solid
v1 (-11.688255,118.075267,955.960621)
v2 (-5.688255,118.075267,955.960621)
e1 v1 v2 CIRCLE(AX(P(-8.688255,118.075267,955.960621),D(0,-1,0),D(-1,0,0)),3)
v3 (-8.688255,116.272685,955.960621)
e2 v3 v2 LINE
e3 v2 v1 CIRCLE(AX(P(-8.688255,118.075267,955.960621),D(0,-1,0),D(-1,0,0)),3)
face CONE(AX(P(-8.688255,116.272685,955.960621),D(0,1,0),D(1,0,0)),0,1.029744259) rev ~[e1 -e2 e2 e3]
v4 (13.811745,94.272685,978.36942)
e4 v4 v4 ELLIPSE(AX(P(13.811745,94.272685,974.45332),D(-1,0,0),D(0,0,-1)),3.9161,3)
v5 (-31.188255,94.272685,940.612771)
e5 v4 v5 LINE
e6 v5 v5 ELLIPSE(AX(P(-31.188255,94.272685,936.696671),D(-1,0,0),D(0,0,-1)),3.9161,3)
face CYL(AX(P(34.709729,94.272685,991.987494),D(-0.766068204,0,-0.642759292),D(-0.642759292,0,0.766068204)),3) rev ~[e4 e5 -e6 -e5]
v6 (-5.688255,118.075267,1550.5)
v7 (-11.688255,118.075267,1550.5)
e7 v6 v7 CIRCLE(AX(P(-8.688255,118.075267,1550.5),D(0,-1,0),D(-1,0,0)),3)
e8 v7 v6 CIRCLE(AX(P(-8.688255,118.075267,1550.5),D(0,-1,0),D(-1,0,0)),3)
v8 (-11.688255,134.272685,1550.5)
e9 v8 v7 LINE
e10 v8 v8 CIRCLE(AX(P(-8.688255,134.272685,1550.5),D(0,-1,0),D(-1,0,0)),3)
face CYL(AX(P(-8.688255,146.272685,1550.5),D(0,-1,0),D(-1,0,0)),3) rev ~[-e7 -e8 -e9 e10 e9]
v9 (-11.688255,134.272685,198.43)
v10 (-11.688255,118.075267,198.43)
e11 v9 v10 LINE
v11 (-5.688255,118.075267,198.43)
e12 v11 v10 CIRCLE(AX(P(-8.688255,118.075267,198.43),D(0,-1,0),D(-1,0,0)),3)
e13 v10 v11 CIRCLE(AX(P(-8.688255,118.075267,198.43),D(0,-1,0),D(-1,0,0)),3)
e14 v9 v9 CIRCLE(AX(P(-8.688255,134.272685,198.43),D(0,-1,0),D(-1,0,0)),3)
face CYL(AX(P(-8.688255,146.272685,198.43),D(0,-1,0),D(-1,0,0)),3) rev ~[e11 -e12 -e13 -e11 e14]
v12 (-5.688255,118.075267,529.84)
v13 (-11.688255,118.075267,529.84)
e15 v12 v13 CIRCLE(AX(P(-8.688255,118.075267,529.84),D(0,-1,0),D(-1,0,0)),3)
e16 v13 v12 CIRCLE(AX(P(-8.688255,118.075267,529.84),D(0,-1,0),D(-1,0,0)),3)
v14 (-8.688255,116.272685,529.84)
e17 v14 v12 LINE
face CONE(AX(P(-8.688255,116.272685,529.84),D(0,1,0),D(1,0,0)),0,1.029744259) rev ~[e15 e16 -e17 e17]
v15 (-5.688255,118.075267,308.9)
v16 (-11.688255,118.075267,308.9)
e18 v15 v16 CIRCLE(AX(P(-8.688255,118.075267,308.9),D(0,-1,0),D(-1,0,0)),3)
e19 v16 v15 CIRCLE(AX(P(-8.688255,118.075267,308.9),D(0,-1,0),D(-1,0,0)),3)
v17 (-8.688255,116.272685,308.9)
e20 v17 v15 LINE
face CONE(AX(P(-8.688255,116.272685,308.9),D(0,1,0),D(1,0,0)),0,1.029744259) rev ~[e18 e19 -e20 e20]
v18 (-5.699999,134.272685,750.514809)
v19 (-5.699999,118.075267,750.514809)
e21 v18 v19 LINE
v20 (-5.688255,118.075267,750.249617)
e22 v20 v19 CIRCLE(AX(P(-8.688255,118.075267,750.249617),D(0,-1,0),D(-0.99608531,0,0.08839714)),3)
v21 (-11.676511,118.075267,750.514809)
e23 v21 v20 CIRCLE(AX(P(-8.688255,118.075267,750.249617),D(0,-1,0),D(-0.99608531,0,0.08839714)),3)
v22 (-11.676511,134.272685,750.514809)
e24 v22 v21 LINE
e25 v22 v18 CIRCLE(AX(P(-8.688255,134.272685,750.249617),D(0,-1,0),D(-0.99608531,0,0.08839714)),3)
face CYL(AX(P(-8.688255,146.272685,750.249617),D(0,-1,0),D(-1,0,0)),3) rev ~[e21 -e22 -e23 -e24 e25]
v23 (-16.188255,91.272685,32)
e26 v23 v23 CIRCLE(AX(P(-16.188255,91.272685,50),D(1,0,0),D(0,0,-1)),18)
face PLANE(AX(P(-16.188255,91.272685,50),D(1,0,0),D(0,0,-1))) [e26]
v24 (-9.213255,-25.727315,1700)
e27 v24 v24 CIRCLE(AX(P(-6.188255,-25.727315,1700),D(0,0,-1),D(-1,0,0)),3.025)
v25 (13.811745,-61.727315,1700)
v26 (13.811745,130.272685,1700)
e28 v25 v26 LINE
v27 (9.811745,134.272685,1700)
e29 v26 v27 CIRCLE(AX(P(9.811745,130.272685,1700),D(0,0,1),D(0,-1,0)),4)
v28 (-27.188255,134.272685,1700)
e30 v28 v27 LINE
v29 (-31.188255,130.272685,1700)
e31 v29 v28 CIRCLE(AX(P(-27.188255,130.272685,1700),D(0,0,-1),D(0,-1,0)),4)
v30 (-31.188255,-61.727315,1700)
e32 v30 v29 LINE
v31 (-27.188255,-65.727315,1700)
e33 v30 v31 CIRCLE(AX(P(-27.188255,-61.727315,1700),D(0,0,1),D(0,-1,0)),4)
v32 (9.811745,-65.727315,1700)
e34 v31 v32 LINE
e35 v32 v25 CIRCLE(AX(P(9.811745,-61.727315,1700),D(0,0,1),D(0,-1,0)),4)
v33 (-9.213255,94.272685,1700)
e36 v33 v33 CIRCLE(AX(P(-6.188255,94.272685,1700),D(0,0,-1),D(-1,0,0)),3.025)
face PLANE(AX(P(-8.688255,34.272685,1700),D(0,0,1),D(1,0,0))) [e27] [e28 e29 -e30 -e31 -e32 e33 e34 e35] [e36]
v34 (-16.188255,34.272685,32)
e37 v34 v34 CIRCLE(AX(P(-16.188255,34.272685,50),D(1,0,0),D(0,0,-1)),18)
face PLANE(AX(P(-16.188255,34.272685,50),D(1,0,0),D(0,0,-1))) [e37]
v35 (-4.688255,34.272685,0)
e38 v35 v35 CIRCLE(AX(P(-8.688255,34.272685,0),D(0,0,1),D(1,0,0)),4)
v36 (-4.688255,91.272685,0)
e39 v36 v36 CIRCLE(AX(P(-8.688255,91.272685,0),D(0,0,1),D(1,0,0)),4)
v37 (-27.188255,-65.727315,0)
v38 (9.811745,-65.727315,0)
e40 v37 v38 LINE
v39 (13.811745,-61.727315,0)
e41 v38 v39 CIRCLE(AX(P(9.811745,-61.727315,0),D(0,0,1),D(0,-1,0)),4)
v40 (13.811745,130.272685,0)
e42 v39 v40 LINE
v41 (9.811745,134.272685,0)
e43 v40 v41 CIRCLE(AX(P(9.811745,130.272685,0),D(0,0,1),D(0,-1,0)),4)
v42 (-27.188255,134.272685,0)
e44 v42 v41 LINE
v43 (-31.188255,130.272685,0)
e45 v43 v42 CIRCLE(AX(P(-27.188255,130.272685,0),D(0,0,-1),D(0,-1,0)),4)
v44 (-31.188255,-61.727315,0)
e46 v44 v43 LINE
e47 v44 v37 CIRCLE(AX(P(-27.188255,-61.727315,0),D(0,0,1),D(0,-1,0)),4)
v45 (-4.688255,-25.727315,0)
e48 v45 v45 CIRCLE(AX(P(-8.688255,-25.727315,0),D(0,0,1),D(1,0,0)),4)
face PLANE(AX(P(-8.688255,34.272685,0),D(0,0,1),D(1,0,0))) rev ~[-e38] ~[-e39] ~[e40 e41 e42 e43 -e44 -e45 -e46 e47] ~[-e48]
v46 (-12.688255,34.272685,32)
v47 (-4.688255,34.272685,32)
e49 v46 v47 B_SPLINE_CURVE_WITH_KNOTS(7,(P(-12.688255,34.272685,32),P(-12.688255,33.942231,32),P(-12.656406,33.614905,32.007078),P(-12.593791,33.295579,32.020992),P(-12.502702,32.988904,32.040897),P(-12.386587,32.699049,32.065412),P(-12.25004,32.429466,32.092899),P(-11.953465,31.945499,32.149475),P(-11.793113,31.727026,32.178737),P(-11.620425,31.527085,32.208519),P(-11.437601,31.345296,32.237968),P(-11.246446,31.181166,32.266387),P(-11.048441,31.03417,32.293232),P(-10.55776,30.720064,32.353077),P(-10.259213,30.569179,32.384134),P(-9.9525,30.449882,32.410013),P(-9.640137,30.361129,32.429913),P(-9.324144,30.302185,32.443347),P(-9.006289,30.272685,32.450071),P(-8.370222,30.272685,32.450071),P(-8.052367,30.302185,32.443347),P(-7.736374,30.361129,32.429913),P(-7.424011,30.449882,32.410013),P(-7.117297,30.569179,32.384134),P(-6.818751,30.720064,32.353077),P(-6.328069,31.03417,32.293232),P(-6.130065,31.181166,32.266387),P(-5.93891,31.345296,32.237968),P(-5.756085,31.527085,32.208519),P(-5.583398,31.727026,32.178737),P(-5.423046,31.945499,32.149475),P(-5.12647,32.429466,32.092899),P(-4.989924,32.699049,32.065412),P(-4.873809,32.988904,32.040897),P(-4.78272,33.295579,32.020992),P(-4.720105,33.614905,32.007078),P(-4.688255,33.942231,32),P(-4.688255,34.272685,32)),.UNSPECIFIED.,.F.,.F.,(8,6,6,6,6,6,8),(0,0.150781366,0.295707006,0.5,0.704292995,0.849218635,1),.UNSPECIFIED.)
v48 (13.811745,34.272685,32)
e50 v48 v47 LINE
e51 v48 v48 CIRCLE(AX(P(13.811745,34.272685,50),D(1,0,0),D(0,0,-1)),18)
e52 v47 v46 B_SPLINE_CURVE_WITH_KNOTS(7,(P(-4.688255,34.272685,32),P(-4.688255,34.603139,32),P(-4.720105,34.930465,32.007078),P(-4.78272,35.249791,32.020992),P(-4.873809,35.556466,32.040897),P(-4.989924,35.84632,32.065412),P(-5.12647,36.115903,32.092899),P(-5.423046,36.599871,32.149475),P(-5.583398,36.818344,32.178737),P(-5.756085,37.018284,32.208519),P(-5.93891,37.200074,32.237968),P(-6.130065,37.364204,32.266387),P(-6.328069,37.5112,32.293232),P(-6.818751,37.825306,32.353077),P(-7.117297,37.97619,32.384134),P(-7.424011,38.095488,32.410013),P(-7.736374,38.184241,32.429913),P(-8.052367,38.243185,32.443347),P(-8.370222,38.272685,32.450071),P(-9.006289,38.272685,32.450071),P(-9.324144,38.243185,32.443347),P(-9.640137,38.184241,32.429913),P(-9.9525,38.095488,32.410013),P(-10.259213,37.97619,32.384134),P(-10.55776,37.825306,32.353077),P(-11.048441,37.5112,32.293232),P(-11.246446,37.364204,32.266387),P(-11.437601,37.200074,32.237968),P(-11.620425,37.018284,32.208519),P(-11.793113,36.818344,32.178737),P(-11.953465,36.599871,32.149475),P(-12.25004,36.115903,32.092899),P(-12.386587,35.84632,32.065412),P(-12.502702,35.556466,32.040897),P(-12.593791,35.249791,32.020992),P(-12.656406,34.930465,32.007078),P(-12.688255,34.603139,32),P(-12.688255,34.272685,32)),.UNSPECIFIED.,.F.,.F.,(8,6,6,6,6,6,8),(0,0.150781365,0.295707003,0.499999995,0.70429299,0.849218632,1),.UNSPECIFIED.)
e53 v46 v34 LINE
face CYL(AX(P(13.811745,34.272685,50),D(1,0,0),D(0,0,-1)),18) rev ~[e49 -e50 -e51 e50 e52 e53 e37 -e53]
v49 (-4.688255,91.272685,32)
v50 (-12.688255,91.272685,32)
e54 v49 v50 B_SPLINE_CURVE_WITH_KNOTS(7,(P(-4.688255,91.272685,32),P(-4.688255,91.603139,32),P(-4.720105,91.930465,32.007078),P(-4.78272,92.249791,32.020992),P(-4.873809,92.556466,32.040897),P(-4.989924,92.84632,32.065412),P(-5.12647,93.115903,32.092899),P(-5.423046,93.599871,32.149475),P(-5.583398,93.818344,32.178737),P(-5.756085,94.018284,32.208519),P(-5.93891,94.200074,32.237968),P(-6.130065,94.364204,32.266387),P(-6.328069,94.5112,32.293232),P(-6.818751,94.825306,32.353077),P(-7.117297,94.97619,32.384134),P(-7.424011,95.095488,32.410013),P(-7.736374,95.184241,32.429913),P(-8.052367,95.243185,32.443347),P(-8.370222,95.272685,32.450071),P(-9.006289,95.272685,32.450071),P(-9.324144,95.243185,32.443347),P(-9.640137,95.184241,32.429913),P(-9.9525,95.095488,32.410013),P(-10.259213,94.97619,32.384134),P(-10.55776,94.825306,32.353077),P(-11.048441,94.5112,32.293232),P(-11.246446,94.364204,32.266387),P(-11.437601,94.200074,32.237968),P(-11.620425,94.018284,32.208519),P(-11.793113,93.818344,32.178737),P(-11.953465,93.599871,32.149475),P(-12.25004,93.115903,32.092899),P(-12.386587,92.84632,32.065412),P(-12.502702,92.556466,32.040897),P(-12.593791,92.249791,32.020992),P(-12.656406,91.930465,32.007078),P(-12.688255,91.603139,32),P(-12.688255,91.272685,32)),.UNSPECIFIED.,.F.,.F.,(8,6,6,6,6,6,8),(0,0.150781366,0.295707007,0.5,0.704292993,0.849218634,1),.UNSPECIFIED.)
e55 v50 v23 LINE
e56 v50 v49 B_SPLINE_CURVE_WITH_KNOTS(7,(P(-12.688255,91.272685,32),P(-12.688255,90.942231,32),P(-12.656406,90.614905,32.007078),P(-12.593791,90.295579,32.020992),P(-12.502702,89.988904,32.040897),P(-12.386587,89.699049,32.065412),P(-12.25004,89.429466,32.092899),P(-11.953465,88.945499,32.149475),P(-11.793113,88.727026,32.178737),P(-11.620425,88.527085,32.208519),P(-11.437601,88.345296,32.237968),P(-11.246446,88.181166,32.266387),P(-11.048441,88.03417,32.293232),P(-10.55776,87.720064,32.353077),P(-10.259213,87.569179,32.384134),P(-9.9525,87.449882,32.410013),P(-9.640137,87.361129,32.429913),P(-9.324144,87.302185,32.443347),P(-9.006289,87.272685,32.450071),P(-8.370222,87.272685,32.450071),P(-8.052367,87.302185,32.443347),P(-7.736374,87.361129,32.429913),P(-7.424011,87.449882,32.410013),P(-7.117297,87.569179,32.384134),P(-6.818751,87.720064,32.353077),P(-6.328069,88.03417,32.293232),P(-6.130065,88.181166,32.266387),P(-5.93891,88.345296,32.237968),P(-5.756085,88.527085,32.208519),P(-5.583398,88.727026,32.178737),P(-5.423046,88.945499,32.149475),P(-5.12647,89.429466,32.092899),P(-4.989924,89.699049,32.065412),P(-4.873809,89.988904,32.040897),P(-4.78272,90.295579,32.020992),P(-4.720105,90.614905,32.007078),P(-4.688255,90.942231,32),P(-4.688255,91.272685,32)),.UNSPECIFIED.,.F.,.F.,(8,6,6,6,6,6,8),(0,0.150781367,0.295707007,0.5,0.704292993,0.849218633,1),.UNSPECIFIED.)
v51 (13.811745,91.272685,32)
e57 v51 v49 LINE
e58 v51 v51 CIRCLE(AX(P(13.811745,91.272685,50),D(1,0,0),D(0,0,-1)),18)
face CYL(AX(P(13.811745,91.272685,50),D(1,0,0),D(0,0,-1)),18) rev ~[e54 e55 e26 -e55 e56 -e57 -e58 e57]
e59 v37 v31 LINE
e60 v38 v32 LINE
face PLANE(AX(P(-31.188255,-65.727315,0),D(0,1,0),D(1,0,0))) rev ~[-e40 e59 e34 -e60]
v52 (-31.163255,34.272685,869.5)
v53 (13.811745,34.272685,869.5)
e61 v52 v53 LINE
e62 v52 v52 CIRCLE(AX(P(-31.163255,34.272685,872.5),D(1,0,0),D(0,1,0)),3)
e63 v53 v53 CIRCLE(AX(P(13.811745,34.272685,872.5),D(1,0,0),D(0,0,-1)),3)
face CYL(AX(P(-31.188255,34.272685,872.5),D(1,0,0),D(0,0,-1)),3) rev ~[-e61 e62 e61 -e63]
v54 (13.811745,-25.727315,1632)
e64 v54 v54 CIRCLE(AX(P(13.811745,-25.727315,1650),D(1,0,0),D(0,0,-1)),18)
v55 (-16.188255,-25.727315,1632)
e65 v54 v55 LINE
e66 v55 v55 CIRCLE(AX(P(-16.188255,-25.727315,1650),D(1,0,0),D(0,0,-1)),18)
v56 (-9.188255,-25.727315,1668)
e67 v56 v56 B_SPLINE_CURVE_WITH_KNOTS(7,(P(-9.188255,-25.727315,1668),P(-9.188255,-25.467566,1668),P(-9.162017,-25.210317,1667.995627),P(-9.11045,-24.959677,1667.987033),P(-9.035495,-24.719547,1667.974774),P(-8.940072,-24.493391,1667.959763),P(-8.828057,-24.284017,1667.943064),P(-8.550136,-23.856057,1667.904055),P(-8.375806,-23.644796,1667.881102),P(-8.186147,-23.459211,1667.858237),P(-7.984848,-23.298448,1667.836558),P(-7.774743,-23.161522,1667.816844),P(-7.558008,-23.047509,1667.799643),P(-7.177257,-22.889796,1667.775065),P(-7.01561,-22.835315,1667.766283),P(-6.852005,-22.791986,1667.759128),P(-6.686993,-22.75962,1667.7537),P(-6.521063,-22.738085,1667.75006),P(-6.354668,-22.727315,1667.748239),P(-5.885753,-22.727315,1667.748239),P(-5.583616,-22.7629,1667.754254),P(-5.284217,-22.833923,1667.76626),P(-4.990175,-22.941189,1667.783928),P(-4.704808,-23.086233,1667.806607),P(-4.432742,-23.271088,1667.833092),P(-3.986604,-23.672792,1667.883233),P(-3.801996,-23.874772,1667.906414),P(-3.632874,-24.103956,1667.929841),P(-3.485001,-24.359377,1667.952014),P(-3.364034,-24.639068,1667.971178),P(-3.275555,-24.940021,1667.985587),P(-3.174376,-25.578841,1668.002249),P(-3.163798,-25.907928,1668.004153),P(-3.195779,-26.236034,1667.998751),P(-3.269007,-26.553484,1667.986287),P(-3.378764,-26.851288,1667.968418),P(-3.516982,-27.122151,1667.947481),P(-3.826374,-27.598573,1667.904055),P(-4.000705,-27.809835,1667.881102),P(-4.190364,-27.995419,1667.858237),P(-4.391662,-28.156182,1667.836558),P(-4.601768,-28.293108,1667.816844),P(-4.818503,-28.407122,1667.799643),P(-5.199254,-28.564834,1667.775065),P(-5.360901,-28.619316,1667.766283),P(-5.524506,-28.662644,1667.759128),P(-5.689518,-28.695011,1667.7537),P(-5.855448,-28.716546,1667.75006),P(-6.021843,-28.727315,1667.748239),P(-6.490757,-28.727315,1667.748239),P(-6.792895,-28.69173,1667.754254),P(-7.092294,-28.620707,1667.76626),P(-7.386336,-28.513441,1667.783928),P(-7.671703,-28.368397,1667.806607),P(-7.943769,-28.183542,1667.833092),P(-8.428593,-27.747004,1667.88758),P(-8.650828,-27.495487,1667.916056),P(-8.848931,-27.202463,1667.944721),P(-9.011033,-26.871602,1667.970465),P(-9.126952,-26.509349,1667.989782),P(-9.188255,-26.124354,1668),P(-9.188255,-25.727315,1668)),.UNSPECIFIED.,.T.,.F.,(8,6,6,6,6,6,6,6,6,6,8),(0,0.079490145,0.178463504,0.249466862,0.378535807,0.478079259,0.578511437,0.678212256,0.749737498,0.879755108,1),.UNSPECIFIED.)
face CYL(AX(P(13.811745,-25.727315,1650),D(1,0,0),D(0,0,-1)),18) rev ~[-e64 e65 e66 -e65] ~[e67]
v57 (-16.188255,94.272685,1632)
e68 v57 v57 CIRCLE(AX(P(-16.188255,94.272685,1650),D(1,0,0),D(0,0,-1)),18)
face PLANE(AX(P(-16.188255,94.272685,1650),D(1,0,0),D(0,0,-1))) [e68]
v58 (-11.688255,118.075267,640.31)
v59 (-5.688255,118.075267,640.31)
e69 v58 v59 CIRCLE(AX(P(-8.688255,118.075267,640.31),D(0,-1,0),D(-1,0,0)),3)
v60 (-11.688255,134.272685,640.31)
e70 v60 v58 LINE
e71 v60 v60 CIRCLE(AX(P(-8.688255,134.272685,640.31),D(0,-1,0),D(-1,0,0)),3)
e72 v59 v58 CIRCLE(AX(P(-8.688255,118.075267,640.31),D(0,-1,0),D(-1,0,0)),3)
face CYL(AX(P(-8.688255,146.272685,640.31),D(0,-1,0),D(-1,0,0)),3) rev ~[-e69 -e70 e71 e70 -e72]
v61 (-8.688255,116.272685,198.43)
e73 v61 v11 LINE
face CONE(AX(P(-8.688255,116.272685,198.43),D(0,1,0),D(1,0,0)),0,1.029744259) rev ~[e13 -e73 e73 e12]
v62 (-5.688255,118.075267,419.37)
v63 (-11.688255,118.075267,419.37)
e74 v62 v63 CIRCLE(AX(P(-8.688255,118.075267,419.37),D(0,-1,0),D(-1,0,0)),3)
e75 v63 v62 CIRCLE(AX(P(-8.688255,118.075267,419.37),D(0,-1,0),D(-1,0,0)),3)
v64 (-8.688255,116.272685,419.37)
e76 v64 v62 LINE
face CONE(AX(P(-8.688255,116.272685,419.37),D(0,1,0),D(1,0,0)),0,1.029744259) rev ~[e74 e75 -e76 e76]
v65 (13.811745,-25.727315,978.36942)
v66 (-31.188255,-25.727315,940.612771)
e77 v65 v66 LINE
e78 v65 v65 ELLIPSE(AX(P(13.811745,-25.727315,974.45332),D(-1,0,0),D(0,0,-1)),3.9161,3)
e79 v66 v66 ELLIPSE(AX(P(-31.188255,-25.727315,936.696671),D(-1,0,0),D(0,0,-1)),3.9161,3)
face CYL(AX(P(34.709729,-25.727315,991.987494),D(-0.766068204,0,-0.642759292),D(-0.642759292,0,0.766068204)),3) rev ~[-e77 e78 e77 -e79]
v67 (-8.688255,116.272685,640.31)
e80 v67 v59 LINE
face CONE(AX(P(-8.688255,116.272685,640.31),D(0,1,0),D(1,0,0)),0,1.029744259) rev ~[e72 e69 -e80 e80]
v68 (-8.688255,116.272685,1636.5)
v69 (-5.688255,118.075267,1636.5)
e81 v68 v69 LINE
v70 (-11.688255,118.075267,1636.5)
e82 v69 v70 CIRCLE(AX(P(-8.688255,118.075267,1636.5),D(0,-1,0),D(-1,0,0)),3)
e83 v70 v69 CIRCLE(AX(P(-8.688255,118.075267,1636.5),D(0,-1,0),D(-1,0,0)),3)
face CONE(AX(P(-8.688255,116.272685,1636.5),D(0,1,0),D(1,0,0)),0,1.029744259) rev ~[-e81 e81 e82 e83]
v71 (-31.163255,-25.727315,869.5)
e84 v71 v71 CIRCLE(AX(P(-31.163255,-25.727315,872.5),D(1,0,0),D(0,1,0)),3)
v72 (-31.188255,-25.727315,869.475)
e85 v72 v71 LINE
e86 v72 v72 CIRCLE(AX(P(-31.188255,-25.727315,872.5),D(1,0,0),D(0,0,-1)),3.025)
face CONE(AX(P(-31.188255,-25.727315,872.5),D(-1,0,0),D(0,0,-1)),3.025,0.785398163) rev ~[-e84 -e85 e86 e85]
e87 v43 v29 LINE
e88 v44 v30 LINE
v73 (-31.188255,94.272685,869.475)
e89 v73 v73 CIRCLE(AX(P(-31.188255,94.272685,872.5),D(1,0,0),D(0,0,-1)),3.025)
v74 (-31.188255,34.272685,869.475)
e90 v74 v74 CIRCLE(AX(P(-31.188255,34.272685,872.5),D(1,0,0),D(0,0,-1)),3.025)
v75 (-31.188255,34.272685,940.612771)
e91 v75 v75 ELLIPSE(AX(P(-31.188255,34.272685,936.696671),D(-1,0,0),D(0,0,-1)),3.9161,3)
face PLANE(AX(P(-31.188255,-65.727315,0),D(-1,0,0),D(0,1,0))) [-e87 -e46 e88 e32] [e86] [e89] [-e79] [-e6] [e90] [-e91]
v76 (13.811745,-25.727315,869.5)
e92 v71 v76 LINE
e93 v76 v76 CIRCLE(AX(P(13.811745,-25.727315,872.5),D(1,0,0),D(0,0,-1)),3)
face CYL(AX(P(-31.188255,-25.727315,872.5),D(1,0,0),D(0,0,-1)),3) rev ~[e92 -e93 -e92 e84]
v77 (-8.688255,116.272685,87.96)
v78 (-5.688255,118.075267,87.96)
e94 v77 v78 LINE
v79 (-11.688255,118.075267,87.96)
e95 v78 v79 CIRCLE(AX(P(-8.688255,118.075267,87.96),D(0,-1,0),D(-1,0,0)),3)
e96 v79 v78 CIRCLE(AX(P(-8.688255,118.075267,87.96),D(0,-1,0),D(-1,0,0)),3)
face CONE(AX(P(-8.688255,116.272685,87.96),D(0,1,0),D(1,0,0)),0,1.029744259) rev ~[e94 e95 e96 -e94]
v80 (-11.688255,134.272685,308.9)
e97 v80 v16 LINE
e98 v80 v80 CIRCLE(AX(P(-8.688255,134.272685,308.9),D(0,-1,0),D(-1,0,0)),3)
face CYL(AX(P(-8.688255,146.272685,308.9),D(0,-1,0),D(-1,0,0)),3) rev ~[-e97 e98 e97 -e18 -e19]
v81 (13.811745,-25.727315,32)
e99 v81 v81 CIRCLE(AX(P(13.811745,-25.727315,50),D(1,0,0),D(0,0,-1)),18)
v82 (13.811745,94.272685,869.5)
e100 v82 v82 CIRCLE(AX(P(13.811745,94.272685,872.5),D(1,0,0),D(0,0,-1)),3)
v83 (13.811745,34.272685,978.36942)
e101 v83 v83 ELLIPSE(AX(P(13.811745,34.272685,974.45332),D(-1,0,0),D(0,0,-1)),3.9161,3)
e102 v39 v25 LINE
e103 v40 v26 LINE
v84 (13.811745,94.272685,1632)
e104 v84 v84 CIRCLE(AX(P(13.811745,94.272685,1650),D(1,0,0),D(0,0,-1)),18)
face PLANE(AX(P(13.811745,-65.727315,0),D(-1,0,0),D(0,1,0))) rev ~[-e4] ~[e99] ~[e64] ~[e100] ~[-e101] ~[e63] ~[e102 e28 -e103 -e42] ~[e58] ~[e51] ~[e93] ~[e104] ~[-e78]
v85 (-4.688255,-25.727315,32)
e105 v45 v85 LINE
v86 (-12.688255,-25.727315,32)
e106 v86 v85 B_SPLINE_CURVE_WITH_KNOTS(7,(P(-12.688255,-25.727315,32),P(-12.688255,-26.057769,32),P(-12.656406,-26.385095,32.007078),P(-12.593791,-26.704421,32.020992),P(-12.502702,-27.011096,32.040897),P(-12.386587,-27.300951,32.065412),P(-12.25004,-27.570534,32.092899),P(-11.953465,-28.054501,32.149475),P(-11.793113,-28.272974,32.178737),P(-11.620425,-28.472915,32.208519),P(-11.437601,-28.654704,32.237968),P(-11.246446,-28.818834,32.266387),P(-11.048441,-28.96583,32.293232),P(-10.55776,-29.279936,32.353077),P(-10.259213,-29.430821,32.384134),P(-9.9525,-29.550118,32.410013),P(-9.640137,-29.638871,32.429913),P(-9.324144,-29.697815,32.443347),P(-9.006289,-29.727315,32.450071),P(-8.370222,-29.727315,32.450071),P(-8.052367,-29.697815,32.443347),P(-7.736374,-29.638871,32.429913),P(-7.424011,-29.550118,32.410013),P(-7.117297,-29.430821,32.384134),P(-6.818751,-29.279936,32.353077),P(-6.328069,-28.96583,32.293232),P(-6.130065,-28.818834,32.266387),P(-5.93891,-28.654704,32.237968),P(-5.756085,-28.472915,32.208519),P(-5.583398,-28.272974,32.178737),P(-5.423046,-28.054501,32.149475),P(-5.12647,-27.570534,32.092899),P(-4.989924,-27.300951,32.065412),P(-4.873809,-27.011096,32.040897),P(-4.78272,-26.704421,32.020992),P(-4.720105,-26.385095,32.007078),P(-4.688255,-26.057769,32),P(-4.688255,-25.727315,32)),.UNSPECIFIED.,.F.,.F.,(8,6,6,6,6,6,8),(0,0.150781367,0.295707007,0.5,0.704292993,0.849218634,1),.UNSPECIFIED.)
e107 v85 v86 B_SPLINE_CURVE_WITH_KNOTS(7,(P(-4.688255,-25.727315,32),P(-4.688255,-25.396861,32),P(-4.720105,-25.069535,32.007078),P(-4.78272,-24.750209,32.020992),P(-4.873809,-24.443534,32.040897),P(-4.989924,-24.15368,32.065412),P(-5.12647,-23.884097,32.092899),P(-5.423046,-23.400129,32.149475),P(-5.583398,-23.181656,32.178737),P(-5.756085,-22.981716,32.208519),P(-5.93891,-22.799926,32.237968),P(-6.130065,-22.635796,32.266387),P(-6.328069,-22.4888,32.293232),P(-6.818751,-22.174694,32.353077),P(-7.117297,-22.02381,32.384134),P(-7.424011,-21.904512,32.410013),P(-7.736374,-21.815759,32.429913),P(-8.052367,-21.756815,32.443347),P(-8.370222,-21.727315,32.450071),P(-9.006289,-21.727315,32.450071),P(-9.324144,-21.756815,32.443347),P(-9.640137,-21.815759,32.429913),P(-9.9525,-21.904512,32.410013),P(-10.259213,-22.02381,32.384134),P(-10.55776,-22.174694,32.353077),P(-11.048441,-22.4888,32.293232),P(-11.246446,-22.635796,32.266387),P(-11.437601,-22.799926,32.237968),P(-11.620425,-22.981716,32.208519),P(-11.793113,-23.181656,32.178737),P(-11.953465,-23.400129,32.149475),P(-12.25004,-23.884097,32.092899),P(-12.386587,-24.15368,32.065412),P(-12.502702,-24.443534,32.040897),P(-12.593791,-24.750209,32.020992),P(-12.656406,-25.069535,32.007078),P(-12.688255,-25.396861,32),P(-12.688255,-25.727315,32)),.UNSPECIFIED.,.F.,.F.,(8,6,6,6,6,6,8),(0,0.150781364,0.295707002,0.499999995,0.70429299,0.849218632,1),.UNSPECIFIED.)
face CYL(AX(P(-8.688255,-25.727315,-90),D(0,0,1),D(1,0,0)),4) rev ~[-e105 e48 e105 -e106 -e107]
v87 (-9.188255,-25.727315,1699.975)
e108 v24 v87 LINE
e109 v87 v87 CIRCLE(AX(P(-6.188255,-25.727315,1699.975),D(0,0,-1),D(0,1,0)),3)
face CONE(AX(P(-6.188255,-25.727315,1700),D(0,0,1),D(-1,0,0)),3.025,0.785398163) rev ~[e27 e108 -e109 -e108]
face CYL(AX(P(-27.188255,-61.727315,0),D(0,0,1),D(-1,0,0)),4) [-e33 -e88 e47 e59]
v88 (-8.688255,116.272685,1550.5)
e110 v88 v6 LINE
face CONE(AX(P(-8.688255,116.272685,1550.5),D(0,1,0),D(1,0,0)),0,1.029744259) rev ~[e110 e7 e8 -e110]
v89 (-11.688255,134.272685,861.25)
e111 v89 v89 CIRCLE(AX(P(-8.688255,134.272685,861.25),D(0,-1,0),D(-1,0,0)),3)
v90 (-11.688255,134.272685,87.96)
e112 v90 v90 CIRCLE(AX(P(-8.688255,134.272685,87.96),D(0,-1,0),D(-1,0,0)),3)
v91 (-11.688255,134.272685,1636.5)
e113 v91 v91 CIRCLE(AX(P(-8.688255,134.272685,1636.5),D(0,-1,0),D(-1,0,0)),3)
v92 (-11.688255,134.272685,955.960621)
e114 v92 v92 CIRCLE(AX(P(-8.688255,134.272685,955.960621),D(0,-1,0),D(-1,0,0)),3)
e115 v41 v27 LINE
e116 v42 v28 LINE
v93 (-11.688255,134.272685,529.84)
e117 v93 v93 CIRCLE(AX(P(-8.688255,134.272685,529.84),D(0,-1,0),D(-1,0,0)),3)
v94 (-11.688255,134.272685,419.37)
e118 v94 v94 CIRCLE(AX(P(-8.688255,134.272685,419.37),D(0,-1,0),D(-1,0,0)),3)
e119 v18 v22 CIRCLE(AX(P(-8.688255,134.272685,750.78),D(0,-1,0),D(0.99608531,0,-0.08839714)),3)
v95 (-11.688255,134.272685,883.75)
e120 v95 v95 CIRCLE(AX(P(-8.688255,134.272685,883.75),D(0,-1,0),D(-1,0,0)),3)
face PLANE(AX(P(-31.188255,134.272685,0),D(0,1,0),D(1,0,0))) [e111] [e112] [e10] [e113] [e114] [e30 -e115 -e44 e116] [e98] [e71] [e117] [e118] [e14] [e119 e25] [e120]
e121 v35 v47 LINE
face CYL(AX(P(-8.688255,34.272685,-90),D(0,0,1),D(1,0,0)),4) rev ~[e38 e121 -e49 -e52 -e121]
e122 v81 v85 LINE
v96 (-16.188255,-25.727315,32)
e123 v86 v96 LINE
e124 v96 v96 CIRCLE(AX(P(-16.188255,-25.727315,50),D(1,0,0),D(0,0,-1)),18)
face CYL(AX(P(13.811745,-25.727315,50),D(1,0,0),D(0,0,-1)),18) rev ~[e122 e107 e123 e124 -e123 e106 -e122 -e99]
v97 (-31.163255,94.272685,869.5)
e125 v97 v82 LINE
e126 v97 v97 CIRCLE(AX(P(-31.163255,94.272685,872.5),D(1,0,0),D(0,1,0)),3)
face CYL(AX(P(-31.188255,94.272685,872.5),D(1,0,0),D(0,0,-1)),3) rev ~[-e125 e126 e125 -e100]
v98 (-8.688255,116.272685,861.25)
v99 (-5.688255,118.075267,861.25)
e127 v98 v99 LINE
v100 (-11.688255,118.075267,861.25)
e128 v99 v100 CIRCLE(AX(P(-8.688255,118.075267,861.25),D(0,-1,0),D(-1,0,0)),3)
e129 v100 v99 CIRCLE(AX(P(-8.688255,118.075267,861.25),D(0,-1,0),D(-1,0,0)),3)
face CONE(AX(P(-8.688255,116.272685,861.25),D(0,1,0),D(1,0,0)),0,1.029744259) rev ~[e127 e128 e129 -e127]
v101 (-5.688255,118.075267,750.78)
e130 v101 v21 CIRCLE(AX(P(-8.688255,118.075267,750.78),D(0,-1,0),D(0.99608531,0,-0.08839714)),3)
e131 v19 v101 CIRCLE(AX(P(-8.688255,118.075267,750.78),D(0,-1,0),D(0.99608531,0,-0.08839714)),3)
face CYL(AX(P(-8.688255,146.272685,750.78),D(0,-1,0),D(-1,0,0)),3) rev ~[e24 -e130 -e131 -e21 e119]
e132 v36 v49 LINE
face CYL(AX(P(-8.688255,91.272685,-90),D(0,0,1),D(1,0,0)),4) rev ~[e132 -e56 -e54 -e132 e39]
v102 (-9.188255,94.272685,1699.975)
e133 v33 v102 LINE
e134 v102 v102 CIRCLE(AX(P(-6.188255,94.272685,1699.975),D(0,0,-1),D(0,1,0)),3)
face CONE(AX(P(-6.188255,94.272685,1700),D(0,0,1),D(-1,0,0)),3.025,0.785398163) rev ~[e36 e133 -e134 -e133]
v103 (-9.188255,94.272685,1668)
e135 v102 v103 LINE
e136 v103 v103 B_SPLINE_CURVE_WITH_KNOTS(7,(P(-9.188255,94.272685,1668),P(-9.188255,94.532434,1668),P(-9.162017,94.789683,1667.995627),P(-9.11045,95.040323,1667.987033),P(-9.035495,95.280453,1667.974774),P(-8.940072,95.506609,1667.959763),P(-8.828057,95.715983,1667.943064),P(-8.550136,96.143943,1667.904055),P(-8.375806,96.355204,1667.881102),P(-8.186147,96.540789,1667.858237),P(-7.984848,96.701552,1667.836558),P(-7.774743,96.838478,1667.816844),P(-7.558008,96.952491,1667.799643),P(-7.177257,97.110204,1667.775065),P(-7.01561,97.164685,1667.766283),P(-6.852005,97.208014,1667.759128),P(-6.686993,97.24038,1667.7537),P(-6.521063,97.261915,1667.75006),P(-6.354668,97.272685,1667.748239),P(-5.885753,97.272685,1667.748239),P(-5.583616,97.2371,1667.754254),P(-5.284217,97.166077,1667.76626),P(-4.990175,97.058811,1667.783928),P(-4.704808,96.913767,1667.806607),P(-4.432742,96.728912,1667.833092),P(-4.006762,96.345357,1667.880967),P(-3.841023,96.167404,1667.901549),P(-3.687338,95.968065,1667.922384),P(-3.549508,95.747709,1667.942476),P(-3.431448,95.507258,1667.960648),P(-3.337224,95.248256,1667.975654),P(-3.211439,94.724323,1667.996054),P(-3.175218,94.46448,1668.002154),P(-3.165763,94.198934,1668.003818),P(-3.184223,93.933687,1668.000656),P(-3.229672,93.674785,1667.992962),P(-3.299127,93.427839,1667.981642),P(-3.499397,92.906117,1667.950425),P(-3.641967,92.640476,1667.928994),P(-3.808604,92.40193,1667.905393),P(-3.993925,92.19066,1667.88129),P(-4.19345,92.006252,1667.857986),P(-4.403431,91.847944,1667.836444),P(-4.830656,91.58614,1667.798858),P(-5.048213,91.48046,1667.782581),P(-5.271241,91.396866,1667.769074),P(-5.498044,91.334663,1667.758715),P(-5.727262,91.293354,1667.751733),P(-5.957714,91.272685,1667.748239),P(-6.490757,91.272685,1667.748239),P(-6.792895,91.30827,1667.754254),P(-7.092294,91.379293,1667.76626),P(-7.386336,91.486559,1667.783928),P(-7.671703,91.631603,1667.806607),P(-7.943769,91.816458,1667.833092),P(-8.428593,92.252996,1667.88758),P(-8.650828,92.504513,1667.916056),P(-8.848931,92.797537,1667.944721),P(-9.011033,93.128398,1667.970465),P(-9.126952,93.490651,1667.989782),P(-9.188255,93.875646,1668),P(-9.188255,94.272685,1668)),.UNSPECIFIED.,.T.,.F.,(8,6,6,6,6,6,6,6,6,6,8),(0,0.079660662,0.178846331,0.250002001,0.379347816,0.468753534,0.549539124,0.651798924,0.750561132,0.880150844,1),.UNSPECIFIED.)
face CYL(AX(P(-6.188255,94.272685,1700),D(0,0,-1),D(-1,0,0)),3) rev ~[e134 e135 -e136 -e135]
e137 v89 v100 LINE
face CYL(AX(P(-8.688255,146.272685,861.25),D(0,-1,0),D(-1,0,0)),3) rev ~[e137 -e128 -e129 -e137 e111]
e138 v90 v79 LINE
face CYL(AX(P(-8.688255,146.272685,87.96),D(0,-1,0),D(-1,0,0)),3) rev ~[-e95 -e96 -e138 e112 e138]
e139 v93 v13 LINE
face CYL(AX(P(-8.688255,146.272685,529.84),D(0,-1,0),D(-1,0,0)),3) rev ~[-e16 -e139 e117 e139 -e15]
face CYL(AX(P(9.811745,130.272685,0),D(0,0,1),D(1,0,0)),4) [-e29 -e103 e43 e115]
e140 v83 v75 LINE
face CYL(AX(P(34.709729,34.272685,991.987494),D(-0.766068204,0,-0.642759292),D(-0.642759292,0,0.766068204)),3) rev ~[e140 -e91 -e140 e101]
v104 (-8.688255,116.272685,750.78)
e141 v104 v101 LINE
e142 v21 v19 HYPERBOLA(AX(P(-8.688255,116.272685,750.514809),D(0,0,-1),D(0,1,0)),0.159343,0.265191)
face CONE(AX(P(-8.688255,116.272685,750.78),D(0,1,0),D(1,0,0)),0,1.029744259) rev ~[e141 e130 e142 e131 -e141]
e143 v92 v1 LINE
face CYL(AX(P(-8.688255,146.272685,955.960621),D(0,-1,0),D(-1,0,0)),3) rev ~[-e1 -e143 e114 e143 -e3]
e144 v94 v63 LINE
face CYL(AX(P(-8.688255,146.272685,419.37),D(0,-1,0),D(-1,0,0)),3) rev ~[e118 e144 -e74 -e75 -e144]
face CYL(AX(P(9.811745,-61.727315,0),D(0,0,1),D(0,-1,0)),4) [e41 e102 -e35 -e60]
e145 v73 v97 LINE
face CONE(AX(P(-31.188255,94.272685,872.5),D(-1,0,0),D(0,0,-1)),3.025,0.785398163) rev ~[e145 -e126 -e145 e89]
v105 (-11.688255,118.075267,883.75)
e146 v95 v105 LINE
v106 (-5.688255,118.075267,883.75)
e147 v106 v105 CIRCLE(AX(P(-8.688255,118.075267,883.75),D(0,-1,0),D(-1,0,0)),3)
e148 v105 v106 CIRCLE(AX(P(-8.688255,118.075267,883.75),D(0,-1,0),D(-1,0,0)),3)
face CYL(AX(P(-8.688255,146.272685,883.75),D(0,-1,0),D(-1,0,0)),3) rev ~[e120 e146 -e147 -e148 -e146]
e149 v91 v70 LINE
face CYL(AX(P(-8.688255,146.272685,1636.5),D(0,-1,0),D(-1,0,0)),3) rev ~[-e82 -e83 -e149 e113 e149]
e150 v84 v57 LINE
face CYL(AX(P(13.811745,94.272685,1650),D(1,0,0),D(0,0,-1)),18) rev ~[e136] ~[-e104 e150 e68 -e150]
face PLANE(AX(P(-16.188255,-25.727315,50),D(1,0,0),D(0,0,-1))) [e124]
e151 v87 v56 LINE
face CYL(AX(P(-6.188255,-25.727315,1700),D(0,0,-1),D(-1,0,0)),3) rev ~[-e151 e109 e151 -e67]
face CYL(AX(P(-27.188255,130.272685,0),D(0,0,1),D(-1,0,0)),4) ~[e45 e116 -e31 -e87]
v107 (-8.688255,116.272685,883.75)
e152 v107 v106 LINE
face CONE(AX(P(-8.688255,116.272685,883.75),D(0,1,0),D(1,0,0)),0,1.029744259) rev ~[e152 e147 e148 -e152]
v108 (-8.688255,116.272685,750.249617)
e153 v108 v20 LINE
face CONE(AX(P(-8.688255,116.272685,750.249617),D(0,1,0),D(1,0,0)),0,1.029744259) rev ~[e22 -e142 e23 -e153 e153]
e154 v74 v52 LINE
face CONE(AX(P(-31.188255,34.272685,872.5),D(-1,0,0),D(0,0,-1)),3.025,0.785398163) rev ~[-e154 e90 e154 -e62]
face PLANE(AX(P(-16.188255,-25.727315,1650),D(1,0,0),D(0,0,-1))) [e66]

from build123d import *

# Parameters (mm, degrees)
SKETCH1_W                       = 45
SKETCH1_H                       = 200
BOSS_EXTRUDE1_DEPTH             = 1700
FILLET1_R                       = 4
F_6_0MM_DOWEL_SLOT1_D           = 6
F_6_0MM_DOWEL_SLOT1_DEPTH       = 128.197418143
F_6_0MM_DOWEL_SLOT1_CSINK_D     = 6.05
F_6_0MM_DOWEL_SLOT1_CSINK_ANGLE = 90
F_6_0MM_DOWEL_SLOT1_TIP         = 1.802581857
SKETCH17_R                      = 18
CUT_EXTRUDE8_DEPTH              = 30
F_6_0MM_DOWEL_SLOT3_D           = 6
F_6_0MM_DOWEL_SLOT3_DEPTH       = 63.197418143
F_6_0MM_DOWEL_SLOT3_CSINK_D     = 6.05
F_6_0MM_DOWEL_SLOT3_CSINK_ANGLE = 90
F_6_0MM_DOWEL_SLOT3_TIP         = 1.802581857
F_6_0MM_DOWEL_SLOT4_D           = 6
F_6_0MM_DOWEL_SLOT4_DEPTH       = 48.197418143
F_6_0MM_DOWEL_SLOT4_CSINK_D     = 6.05
F_6_0MM_DOWEL_SLOT4_CSINK_ANGLE = 90
F_6_0MM_DOWEL_SLOT4_TIP         = 1.802581857
SKETCH22_R                      = 18
CUT_EXTRUDE9_DEPTH              = 30
F_8_0MM_DOWEL_SLOT3_D           = 8
F_8_0MM_DOWEL_SLOT3_DEPTH       = 137.596557524
F_8_0MM_DOWEL_SLOT3_CSINK_D     = 8.05
F_8_0MM_DOWEL_SLOT3_CSINK_ANGLE = 90
F_8_0MM_DOWEL_SLOT3_TIP         = 2.403442476
F_6_0MM_DOWEL_SLOT8_D           = 6
F_6_0MM_DOWEL_SLOT8_DEPTH       = 28.197418143
F_6_0MM_DOWEL_SLOT8_CSINK_D     = 6.05
F_6_0MM_DOWEL_SLOT8_CSINK_ANGLE = 90
F_6_0MM_DOWEL_SLOT8_TIP         = 1.802581857


with BuildPart() as part:
    # Sketch1 → Boss-Extrude1 (new body)
    with BuildSketch(Plane.XY):
        with Locations((-8.688255411, 34.272684877)):
            Rectangle(SKETCH1_W, SKETCH1_H)
    extrude(amount=BOSS_EXTRUDE1_DEPTH)

    # Fillet1
    fillet1_edges = [part.edges().sort_by_distance(p)[0] for p in [
        (13.811744589, 134.272684877, 850),
        (13.811744589, -65.727315123, 850),
        (-31.188255411, -65.727315123, 850),
        (-31.188255411, 134.272684877, 850),
    ]]
    fillet(fillet1_edges, radius=FILLET1_R)

    # Ø6.0mm Dowel Slot1
    with Locations(Plane(origin=(495.936786729, -65.727315123, 442.277224535), x_dir=(0.6427592920058945, -7.13765947743485e-15, -0.7660682035824756), z_dir=(0.7660682035824756, -8.506969936751697e-15, 0.6427592920058945))):
        with Locations((-717.573535848, 40), (-343.837284168, -87.348590076), (-717.573535848, 100), (-645.06893427, -63.697919268), (-717.573535848, 160)):
            CounterSinkHole(F_6_0MM_DOWEL_SLOT1_D / 2, F_6_0MM_DOWEL_SLOT1_CSINK_D / 2, depth=F_6_0MM_DOWEL_SLOT1_DEPTH, counter_sink_angle=F_6_0MM_DOWEL_SLOT1_CSINK_ANGLE)
            with Locations((0, 0, -(F_6_0MM_DOWEL_SLOT1_DEPTH + F_6_0MM_DOWEL_SLOT1_TIP / 2))):  # 118° drill point
                Cone(0, F_6_0MM_DOWEL_SLOT1_D / 2, F_6_0MM_DOWEL_SLOT1_TIP, mode=Mode.SUBTRACT)

    # Sketch17 → Cut-Extrude8 (cut)
    with BuildSketch(Plane(origin=(13.811744589, 0, 0), x_dir=(0, 0, -1), z_dir=(1, 0, 0))):
        with Locations((-50, -25.727315123)):
            Circle(SKETCH17_R)
        with Locations((-50, 34.272684877)):
            Circle(SKETCH17_R)
        with Locations((-50, 91.272684877)):
            Circle(SKETCH17_R)
    extrude(amount=-CUT_EXTRUDE8_DEPTH, mode=Mode.SUBTRACT)

    # Ø6.0mm Dowel Slot3
    with Locations(Plane(origin=(-31.188255411, -65.727315123, 0), x_dir=(0, 0, 1), z_dir=(-1, 0, 0))):
        with Locations((872.5, 160), (872.5, 100), (872.5, 40)):
            CounterSinkHole(F_6_0MM_DOWEL_SLOT3_D / 2, F_6_0MM_DOWEL_SLOT3_CSINK_D / 2, depth=F_6_0MM_DOWEL_SLOT3_DEPTH, counter_sink_angle=F_6_0MM_DOWEL_SLOT3_CSINK_ANGLE)
            with Locations((0, 0, -(F_6_0MM_DOWEL_SLOT3_DEPTH + F_6_0MM_DOWEL_SLOT3_TIP / 2))):  # 118° drill point
                Cone(0, F_6_0MM_DOWEL_SLOT3_D / 2, F_6_0MM_DOWEL_SLOT3_TIP, mode=Mode.SUBTRACT)

    # Ø6.0mm Dowel Slot4
    with Locations(Plane(origin=(-31.188255411, -65.727315123, 1700), x_dir=(1, 0, 0), z_dir=(0, 0, 1))):
        with Locations((25, 160), (25, 40), (800, 160), (800, 40)):
            CounterSinkHole(F_6_0MM_DOWEL_SLOT4_D / 2, F_6_0MM_DOWEL_SLOT4_CSINK_D / 2, depth=F_6_0MM_DOWEL_SLOT4_DEPTH, counter_sink_angle=F_6_0MM_DOWEL_SLOT4_CSINK_ANGLE)
            with Locations((0, 0, -(F_6_0MM_DOWEL_SLOT4_DEPTH + F_6_0MM_DOWEL_SLOT4_TIP / 2))):  # 118° drill point
                Cone(0, F_6_0MM_DOWEL_SLOT4_D / 2, F_6_0MM_DOWEL_SLOT4_TIP, mode=Mode.SUBTRACT)

    # Sketch22 → Cut-Extrude9 (cut)
    with BuildSketch(Plane(origin=(13.811744589, -65.727315123, 0), x_dir=(0, 0, -1), z_dir=(1, 0, 0))):
        with Locations((-1650, 160)):
            Circle(SKETCH22_R)
        with Locations((-1650, 40)):
            Circle(SKETCH22_R)
    extrude(amount=-CUT_EXTRUDE9_DEPTH, mode=Mode.SUBTRACT)

    # Ø8.0mm Dowel Slot3
    with Locations(Plane(origin=(-31.188255411, -65.727315123, -90), x_dir=(-1, 0, 0), z_dir=(0, 0, -1))):
        with Locations((-22.5, 40), (-22.5, 100), (-22.5, 157)):
            CounterSinkHole(F_8_0MM_DOWEL_SLOT3_D / 2, F_8_0MM_DOWEL_SLOT3_CSINK_D / 2, depth=F_8_0MM_DOWEL_SLOT3_DEPTH, counter_sink_angle=F_8_0MM_DOWEL_SLOT3_CSINK_ANGLE)
            with Locations((0, 0, -(F_8_0MM_DOWEL_SLOT3_DEPTH + F_8_0MM_DOWEL_SLOT3_TIP / 2))):  # 118° drill point
                Cone(0, F_8_0MM_DOWEL_SLOT3_D / 2, F_8_0MM_DOWEL_SLOT3_TIP, mode=Mode.SUBTRACT)

    # Ø6.0mm Dowel Slot8
    with Locations(Plane(origin=(-31.188255411, 146.272684877, 0), x_dir=(1, 0, 0), z_dir=(0, 1, 0))):
        with Locations((22.5, 1726.5), (22.5, 1640.5), (802.5, 1726.5), (802.5, 1640.5), (22.5, -955.960621131), (22.5, -1636.5), (802.5, -1462.5), (802.5, -1636.5), (22.5, -1722.5), (802.5, -1722.5), (22.5, -1550.5), (802.5, -640.31), (120, -1722.5), (217.5, -1722.5), (315, -1722.5), (412.5, -1722.5), (510, -1722.5), (607.5, -1722.5), (705, -1722.5), (22.5, -861.25), (22.5, -883.75), (-22.496198074, -917.60220409), (802.5, -861.25), (802.5, -883.75), (847.496198074, -917.60220409), (802.5, -529.84), (22.5, -750.249617159), (-341.005231297, -650.318686522), (1166.005231297, -650.318686522), (-310.084924074, 22.5), (-310.084924074, 67.5), (22.5, 67.5), (22.5, 22.5), (802.5, 67.5), (802.5, 22.5), (1133.730020848, 67.5), (1133.730020848, 22.5), (1166.005231297, 740.318686522), (802.560751791, 973.75), (802.560751791, 951.25), (847.496198074, 1007.60220409), (-22.496198074, 1007.60220409), (22.560751791, 951.25), (-341.005231297, 740.318686522), (22.5, 1812.5), (802.5, 1812.5), (22.5, 1552.5), (802.5, 1552.5), (-102.162023695, -850.748960129), (-181.827849315, -783.895716167), (-261.493674936, -717.042472206), (927.162023695, -850.748960129), (1006.827849315, -783.895716167), (1086.493674936, -717.042472206), (1086.493674936, 807.042472206), (1006.827849315, 873.895716167), (927.162023695, 940.748960129), (-102.162023695, 940.748960129), (-181.827849315, 873.895716167), (-261.493674936, 807.042472206), (-199.224924074, 67.5), (-88.364924074, 67.5), (-199.224924074, 22.5), (-88.364924074, 22.5), (912.010020848, 67.5), (1022.870020848, 67.5), (912.010020848, 22.5), (1022.870020848, 22.5), (120, 67.5), (217.5, 67.5), (315, 67.5), (607.5, 67.5), (705, 67.5), (510, 67.5), (120, 22.5), (217.5, 22.5), (315, 22.5), (510, 22.5), (607.5, 22.5), (705, 22.5), (412.5, 22.5), (22.5, -750.78), (22.5, -640.31), (22.5, -529.84), (22.5, -419.37), (22.5, -308.9), (22.5, -198.43), (22.5, -87.96), (802.5, -750.78), (802.5, -419.37), (802.5, -308.9), (802.5, -198.43), (22.5, 177.97), (22.5, 288.44), (22.5, 398.91), (22.5, 509.38), (22.5, 619.85), (22.5, 730.32), (22.5, 840.79), (802.5, -87.96), (802.5, 177.97), (802.5, 288.44), (120.000330201, 1812.753749877), (217.5, 1812.5), (315, 1812.5), (412.5, 1812.5), (510, 1812.5), (607.5, 1812.5), (705, 1812.5), (120.060751791, 951.25), (217.560751791, 951.25), (315.060751791, 951.25), (412.560751791, 951.25), (510.060751791, 951.25), (607.560751791, 951.25), (705.060751791, 951.25), (656.310751791, 973.75), (558.810751791, 973.75), (461.310751791, 973.75), (363.810751791, 973.75), (266.310751791, 973.75), (168.810751791, 973.75), (120, -861.25), (217.5, -861.25), (315, -861.25), (412.5, -861.25), (510, -861.25), (607.5, -861.25), (705, -861.25), (656.25, -883.75), (558.75, -883.75), (461.25, -883.75), (168.75, -883.75), (266.25, -883.75), (363.75, -883.75), (802.560751791, -955.960621131), (412.5, 67.5), (802.5, 730.32), (802.560751791, 840.79), (802.5, 398.91), (802.5, 509.38), (802.5, 619.85), (-360.000025903, 699.425529794), (-360.000025903, -609.521258848), (-360.000025903, 598.725529794), (-360.000025903, 498.025529794), (-360.000025903, 397.325529794), (-360.000025903, 296.625529794), (-360.000025903, 195.925529794), (-360.000025903, 95.225529794), (-360.000025903, -5.474470206), (-360.000025903, -106.174470206), (-360.000025903, -206.874470206), (-360.000025903, -307.574470206), (-360.000025903, -408.274470206), (-360.000025903, -508.974470206), (1185.00101945, 699.425529452), (1185.000941829, 598.725529794), (1185.000864209, 498.025529794), (1185.000708968, 296.625529794), (1185.000631348, 195.925529794), (1185.000553727, 95.225529794), (1185.000476107, -5.474470206), (1185.000398486, -106.174470206), (1185.000320866, -206.874470206), (1185.000165625, -408.274470206), (1185.000088004, -508.974470206), (1185.000786589, 397.325529794), (22.560751791, 1016.385842825), (802.560751791, 1016.385842825), (802.560751791, -1550.5), (22.560751791, 973.75), (802.560751791, -363.966698641)):
            CounterSinkHole(F_6_0MM_DOWEL_SLOT8_D / 2, F_6_0MM_DOWEL_SLOT8_CSINK_D / 2, depth=F_6_0MM_DOWEL_SLOT8_DEPTH, counter_sink_angle=F_6_0MM_DOWEL_SLOT8_CSINK_ANGLE)
            with Locations((0, 0, -(F_6_0MM_DOWEL_SLOT8_DEPTH + F_6_0MM_DOWEL_SLOT8_TIP / 2))):  # 118° drill point
                Cone(0, F_6_0MM_DOWEL_SLOT8_D / 2, F_6_0MM_DOWEL_SLOT8_TIP, mode=Mode.SUBTRACT)


solid = part.part
